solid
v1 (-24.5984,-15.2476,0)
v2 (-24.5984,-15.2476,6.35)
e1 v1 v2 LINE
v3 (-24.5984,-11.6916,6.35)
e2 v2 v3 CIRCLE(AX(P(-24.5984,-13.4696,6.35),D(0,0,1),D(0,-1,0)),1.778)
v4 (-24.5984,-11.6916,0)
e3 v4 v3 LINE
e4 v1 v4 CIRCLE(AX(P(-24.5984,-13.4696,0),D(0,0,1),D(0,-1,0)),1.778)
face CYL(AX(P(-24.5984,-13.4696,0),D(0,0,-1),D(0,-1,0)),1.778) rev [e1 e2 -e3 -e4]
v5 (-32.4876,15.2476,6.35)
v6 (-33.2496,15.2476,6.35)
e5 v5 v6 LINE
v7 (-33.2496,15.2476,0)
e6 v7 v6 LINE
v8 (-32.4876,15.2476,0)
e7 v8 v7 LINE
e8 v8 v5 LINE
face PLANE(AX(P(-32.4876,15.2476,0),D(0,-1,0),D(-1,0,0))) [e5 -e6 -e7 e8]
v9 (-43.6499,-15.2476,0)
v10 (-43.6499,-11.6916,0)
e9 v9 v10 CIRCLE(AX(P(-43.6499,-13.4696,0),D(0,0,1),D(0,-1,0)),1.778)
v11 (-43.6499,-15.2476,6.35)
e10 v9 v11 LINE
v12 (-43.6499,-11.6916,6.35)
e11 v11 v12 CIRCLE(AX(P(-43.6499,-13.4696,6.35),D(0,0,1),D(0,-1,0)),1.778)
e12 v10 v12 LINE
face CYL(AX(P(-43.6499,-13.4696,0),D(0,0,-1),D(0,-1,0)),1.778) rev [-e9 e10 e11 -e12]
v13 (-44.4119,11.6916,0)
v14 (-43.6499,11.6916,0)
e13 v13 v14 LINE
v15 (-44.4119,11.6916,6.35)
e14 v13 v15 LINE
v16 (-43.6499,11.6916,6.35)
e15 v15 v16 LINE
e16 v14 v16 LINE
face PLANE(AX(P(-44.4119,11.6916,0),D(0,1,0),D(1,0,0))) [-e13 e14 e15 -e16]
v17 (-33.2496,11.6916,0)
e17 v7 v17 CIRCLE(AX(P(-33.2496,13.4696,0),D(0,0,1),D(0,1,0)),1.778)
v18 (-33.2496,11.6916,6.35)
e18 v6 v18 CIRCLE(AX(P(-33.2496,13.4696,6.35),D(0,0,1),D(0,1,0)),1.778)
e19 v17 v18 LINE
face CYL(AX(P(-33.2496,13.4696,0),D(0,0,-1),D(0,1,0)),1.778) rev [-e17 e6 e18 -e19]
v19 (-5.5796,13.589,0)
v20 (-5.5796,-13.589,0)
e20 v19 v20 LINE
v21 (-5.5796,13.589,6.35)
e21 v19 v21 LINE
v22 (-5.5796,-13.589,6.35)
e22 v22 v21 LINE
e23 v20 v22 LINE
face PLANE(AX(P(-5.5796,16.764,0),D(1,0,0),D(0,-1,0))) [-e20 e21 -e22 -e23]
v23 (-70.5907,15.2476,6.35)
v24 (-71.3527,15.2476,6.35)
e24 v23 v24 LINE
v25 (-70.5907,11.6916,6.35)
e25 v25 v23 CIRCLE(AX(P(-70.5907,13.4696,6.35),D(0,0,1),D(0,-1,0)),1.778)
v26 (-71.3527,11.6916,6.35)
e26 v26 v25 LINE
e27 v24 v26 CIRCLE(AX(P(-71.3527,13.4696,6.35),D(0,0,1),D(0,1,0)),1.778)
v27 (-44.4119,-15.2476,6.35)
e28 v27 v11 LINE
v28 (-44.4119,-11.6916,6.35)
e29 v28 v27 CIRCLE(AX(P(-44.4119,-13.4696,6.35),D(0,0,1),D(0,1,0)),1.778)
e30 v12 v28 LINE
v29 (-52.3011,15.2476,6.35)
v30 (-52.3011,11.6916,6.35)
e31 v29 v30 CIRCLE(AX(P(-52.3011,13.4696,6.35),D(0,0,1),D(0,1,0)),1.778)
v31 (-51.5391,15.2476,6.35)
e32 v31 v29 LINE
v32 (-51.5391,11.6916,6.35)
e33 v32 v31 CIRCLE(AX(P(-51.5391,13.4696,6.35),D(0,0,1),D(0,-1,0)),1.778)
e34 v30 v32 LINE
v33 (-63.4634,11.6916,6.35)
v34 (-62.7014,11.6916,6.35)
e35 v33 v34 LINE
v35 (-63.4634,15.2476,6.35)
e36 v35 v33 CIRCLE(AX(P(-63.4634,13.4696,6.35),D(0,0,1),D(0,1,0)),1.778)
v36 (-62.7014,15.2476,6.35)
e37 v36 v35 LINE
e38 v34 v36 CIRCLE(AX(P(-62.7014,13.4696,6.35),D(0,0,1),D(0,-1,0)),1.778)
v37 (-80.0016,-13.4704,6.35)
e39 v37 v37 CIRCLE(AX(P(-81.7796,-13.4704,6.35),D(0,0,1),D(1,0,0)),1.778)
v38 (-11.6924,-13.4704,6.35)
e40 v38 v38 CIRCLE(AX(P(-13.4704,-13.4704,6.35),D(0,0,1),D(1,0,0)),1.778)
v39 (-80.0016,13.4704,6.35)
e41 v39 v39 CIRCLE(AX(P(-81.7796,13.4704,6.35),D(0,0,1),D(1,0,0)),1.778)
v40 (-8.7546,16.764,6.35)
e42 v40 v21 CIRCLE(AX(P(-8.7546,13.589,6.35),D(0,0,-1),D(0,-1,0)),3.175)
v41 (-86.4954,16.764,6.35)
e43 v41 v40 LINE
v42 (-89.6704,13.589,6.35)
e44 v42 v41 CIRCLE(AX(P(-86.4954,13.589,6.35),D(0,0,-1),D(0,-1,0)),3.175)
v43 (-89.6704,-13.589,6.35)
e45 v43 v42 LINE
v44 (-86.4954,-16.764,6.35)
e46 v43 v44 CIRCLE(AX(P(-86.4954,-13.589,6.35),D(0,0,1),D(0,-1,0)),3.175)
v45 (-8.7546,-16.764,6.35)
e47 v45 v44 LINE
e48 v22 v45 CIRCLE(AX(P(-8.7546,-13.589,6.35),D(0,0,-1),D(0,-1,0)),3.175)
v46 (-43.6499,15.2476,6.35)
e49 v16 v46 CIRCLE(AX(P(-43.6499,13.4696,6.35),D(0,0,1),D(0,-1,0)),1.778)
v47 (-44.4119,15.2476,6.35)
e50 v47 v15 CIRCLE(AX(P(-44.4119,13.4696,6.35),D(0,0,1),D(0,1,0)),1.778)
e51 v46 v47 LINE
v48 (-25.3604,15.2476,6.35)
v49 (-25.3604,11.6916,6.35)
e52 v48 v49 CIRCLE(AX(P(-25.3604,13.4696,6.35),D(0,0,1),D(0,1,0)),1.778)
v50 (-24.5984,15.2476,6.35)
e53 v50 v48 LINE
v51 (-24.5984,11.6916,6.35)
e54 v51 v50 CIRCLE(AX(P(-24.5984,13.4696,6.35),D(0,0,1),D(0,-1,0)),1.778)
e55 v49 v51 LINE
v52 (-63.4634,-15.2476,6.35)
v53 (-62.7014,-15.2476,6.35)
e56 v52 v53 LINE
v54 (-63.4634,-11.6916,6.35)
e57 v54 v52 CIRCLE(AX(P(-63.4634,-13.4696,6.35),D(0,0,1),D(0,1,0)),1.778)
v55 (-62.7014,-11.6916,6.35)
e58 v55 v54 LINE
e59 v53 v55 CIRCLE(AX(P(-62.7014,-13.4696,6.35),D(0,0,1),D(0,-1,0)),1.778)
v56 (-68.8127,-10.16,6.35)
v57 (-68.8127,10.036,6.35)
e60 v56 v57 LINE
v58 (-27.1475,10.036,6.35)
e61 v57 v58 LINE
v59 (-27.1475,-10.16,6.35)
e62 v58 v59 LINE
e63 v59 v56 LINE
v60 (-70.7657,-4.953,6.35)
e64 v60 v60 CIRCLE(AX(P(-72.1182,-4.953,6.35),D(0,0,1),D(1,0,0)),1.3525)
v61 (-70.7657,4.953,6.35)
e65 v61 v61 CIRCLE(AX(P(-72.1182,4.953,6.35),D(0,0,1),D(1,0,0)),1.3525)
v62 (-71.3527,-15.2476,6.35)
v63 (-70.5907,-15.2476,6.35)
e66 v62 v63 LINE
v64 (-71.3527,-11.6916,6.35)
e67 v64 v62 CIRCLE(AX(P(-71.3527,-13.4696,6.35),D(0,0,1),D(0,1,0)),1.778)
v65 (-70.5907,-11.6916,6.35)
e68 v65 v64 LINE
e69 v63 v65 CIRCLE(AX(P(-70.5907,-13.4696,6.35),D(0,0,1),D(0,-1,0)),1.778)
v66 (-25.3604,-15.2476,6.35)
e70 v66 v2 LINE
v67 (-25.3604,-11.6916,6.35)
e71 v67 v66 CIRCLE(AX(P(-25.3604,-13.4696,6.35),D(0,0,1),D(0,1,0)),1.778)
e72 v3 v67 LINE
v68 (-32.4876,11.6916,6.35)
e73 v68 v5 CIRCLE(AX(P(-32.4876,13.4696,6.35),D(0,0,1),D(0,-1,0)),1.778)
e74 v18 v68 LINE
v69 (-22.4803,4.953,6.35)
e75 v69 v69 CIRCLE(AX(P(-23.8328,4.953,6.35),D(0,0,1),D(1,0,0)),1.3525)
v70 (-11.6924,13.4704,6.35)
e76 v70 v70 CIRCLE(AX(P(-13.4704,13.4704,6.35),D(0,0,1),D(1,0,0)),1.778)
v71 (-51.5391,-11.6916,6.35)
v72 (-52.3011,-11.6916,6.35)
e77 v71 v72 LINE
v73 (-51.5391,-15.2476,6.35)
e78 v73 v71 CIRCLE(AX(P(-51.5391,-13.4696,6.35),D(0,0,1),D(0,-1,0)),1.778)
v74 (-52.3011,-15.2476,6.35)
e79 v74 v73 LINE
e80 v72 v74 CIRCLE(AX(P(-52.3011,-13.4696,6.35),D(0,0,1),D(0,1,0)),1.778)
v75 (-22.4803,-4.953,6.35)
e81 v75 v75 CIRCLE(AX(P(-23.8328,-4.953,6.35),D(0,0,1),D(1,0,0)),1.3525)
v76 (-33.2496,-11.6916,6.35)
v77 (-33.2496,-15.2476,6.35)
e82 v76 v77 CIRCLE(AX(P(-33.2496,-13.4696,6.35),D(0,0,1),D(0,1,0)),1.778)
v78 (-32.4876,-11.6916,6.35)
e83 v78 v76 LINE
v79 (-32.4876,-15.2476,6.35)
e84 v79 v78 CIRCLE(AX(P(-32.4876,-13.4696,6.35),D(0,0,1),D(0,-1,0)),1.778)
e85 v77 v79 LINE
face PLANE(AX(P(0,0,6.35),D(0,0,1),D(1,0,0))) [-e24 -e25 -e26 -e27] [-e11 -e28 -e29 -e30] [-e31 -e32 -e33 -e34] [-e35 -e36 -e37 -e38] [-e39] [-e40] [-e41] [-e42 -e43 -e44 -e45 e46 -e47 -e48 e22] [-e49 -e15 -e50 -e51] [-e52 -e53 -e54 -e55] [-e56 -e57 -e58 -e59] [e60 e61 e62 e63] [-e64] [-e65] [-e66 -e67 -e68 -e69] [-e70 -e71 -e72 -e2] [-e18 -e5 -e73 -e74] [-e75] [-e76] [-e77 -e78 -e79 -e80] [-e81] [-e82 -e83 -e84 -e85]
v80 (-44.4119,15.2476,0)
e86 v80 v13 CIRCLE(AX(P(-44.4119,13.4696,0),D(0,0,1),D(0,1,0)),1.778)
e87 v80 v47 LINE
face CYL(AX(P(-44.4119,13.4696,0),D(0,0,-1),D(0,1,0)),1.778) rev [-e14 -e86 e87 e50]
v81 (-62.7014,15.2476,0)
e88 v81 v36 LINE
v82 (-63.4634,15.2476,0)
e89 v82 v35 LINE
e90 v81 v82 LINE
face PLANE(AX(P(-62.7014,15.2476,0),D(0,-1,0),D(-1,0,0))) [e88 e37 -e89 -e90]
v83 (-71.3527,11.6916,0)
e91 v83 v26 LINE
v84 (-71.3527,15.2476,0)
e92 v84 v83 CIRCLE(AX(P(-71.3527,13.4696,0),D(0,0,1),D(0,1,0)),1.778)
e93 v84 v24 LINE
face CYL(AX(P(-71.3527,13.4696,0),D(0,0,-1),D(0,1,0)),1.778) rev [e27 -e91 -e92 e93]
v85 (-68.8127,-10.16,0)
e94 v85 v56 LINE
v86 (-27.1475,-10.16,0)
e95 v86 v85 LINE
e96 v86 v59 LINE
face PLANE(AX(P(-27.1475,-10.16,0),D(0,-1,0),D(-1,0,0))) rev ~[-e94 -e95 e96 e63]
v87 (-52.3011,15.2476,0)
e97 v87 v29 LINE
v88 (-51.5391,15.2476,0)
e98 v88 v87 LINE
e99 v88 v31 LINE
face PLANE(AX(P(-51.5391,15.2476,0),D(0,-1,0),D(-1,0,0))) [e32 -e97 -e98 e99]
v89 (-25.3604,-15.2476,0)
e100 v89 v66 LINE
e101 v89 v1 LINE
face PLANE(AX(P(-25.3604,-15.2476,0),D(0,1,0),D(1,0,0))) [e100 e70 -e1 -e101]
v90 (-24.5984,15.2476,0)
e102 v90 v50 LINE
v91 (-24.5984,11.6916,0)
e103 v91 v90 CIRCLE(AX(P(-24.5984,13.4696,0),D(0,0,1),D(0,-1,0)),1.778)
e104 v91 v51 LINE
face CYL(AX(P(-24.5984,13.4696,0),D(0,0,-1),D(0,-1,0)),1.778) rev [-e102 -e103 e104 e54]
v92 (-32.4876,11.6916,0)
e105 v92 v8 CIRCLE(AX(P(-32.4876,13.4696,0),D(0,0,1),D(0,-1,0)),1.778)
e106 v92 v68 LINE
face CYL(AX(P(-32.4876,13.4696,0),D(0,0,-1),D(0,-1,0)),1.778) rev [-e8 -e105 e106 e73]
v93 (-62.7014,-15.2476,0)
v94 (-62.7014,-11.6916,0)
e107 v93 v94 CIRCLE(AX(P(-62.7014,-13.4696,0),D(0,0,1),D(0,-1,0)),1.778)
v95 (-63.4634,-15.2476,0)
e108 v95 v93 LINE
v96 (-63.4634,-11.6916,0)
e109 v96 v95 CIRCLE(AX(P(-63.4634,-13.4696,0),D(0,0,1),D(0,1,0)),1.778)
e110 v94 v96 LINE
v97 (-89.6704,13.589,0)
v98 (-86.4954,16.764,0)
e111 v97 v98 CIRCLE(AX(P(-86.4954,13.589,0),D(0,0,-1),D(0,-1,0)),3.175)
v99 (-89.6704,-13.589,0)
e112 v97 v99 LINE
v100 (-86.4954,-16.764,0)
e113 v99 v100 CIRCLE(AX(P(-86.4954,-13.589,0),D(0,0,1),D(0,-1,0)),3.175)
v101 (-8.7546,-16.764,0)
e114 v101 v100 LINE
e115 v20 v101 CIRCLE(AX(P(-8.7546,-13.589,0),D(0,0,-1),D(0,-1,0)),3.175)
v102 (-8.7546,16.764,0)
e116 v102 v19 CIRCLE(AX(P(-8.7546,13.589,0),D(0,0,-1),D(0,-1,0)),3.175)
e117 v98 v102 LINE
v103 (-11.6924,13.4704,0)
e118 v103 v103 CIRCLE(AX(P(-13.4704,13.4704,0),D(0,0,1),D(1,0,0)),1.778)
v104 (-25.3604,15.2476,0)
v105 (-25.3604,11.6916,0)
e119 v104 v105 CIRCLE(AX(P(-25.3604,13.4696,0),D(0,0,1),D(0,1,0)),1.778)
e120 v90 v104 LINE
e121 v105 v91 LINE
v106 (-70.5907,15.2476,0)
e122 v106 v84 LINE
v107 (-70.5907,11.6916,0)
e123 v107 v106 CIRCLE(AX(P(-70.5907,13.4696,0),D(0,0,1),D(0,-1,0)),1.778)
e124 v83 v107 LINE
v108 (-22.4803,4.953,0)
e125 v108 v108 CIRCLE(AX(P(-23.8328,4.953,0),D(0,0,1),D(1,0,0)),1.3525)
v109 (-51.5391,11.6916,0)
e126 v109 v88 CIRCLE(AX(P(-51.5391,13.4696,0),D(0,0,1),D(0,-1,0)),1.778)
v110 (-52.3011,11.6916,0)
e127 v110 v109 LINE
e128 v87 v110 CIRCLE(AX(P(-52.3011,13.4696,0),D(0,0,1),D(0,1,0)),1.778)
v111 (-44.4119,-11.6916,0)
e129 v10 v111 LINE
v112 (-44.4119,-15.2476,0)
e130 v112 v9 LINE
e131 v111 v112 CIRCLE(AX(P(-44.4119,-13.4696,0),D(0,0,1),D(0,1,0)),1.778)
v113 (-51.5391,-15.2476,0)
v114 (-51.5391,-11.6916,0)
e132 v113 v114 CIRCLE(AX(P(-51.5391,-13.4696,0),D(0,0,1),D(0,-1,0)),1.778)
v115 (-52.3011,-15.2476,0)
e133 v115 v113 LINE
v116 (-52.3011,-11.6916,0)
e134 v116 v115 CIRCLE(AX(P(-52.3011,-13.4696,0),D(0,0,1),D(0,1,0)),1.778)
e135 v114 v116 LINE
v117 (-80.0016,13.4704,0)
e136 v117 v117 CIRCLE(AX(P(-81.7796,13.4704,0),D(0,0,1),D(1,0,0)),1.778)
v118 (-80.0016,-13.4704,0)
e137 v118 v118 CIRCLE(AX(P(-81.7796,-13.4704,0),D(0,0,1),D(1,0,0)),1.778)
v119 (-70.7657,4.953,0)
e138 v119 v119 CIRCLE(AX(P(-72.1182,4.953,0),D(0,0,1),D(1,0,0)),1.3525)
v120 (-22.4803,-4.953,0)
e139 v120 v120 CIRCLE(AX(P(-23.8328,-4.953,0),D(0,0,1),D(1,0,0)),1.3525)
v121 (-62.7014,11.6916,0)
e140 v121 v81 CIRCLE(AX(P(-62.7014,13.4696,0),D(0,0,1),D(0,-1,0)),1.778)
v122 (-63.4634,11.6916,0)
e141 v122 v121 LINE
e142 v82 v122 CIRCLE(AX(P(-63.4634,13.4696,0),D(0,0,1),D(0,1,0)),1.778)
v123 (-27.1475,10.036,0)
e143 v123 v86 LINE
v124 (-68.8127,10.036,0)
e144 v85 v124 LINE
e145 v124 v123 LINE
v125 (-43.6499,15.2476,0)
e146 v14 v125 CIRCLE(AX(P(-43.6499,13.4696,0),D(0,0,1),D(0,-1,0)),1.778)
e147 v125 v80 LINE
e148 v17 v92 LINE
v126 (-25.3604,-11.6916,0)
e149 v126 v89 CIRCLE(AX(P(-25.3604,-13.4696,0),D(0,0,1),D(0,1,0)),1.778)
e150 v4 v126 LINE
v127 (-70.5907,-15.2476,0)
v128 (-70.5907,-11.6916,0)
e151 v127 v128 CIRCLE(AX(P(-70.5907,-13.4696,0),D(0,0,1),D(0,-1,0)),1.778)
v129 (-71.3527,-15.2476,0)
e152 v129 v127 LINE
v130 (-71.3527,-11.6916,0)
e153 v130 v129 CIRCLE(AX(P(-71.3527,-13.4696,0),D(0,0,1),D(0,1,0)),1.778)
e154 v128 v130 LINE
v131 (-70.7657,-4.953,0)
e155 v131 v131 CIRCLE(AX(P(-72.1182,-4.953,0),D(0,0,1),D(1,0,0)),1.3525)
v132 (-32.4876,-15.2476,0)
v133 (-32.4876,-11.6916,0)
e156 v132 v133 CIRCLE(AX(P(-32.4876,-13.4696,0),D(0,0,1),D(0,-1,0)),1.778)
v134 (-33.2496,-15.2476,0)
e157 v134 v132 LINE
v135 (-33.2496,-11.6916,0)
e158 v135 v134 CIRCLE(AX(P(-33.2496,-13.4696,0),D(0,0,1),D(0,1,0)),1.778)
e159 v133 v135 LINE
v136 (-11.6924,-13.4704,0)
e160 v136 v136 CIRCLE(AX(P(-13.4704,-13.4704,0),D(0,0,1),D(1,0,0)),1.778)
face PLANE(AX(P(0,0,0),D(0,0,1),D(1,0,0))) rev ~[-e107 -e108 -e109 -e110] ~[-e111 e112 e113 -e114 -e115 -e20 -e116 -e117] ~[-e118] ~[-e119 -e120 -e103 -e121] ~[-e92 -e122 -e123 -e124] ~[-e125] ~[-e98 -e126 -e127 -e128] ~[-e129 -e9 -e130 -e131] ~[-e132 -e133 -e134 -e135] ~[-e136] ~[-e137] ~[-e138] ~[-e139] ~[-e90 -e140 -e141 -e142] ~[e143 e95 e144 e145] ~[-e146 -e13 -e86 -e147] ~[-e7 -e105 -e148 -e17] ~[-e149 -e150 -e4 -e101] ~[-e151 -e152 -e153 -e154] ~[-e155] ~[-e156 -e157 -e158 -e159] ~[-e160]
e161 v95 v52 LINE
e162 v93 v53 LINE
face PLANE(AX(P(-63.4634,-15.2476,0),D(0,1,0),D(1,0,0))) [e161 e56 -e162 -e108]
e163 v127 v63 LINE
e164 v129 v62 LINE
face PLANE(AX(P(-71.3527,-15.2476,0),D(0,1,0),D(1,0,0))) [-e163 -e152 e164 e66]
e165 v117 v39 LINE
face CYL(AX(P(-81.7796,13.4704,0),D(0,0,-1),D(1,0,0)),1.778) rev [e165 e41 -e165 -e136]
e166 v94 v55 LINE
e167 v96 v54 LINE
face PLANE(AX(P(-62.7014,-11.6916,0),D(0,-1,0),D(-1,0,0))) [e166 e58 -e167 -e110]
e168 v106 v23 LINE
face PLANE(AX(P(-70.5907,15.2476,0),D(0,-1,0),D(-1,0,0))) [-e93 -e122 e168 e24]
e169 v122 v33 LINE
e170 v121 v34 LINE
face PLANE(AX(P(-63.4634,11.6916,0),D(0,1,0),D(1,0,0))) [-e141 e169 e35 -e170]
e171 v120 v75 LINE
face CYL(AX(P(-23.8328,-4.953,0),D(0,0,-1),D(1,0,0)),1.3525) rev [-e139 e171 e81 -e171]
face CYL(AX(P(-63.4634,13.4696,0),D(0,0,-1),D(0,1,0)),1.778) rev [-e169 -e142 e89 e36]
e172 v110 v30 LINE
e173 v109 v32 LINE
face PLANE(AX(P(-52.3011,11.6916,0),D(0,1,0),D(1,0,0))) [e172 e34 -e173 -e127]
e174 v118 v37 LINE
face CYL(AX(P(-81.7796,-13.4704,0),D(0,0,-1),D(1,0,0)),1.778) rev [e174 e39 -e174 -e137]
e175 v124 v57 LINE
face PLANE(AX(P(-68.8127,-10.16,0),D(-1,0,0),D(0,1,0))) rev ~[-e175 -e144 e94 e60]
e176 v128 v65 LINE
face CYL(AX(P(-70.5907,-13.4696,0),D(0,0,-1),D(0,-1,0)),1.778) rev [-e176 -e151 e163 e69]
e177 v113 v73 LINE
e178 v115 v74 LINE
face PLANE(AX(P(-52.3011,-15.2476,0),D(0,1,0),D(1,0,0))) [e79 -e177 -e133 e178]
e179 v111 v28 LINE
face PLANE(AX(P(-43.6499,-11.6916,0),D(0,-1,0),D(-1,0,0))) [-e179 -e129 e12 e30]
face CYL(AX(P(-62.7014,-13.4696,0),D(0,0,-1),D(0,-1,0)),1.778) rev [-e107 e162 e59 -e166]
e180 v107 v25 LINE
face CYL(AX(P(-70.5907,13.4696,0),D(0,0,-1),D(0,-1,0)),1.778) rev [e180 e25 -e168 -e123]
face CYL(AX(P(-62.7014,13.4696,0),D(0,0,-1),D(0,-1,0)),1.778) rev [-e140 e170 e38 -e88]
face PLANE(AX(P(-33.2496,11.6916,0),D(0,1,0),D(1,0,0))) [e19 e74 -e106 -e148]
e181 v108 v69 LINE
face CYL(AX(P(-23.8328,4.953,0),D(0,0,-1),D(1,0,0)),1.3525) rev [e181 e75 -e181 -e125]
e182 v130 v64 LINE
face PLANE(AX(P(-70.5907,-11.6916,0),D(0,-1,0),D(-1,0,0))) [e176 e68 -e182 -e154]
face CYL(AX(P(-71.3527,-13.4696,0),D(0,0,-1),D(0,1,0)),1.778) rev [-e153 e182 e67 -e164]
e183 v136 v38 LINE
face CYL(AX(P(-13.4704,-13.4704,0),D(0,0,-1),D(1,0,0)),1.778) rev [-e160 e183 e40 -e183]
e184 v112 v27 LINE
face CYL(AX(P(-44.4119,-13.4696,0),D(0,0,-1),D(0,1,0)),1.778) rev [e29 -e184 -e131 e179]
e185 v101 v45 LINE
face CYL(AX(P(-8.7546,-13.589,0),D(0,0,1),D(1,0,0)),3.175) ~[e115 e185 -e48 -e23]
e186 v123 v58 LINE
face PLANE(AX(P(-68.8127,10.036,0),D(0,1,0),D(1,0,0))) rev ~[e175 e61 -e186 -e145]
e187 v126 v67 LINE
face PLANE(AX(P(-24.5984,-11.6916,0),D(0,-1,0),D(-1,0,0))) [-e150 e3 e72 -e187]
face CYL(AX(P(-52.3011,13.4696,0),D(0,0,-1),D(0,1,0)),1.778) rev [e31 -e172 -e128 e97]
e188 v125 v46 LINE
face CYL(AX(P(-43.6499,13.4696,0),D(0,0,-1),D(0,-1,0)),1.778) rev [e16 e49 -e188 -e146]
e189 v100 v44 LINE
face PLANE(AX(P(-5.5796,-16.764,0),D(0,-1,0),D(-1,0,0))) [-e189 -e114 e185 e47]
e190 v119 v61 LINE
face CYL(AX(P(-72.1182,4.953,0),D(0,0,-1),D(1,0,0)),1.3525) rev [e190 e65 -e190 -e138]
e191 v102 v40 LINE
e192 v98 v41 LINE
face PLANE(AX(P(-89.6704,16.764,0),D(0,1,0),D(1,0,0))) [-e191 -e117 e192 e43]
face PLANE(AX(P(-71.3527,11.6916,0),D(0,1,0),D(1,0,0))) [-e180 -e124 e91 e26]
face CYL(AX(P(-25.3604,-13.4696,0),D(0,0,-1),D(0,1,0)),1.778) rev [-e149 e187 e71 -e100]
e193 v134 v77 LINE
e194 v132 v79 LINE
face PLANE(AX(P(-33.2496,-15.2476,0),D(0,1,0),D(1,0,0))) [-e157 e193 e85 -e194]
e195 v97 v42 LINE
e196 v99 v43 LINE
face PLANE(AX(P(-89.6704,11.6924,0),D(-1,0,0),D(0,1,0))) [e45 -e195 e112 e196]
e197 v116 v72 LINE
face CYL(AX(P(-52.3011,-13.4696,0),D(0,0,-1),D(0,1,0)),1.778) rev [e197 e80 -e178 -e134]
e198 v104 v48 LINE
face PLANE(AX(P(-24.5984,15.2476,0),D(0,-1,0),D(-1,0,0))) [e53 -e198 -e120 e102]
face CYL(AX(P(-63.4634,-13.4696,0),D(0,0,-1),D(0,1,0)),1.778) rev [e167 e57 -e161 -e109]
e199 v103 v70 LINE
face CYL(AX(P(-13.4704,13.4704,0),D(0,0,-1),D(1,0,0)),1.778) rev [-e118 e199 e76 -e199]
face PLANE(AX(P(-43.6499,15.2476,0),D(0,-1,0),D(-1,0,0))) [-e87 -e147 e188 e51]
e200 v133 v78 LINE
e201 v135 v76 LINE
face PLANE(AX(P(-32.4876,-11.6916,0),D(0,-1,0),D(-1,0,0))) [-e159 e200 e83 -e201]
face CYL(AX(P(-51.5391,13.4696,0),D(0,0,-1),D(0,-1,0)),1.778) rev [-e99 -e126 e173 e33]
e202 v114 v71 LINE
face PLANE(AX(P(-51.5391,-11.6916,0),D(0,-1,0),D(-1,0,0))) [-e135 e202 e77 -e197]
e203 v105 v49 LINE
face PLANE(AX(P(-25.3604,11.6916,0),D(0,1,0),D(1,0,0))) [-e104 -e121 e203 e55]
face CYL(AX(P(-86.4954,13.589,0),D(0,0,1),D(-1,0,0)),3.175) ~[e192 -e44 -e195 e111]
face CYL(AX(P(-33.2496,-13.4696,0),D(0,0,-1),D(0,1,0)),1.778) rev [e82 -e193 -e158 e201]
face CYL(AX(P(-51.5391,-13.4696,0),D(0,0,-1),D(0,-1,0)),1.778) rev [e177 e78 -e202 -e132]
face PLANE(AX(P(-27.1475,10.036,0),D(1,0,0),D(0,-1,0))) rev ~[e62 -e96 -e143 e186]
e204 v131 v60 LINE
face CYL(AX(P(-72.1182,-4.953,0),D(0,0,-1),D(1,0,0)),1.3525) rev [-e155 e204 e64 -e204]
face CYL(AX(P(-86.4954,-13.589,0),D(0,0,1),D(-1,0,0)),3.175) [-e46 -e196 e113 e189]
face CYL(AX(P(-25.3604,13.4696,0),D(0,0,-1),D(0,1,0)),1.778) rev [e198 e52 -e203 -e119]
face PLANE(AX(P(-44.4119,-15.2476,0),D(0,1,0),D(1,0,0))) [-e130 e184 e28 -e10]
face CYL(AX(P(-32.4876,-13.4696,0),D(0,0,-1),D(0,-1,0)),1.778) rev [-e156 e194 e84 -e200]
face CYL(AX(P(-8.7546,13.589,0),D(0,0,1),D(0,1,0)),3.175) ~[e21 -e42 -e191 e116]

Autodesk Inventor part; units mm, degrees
ref_plane "YZ Plane" through (0, 0, 0) normal (1, 0, 0) x (0, 1, 0)
ref_plane "XZ Plane" through (0, 0, 0) normal (0, 1, 0) x (-1, 0, 0)
ref_plane "XY Plane" through (0, 0, 0) normal (0, 0, 1) x (1, 0, 0)
ref_plane "Work Plane1" through (0, 0, 0) normal (0, 0, 1) x (1, 0, 0)
sketch "Sketch2" plane through (0, 0, 0) normal (0, 0, 1) x (1, 0, 0)
  arc A0 (-24.5984, 11.6916) -> (-24.5984, 15.2476) centre (-24.5984, 13.4696) ccw projected
  line L0 (-24.5984, 15.2476) -> (-25.3604, 15.2476) projected
  line L1 (-25.3604, 11.6916) -> (-24.5984, 11.6916) projected
  arc A1 (-25.3604, 15.2476) -> (-25.3604, 11.6916) centre (-25.3604, 13.4696) ccw projected
  arc A2 (-25.3604, 15.2476) -> (-25.3604, 11.6916) centre (-25.3604, 13.4696) ccw
  arc A3 (-24.5984, 11.6916) -> (-24.5984, 15.2476) centre (-24.5984, 13.4696) ccw
  line L2 (-27.1384, 13.4696) -> (-22.8204, 13.4696) construction
  line L3 (-25.3604, 11.6916) -> (-24.5984, 11.6916)
  line L4 (-24.5984, 15.2476) -> (-25.3604, 15.2476)
  arc A4 (-25.3604, 15.2476) -> (-25.3604, 11.6916) centre (-25.3604, 13.4696) ccw
  arc A5 (-24.5984, 11.6916) -> (-24.5984, 15.2476) centre (-24.5984, 13.4696) ccw
  arc A6 (-33.2496, 15.2476) -> (-33.2496, 11.6916) centre (-33.2496, 13.4696) ccw
  arc A7 (-32.4876, 11.6916) -> (-32.4876, 15.2476) centre (-32.4876, 13.4696) ccw
  arc A8 (-43.6499, 11.6916) -> (-43.6499, 15.2476) centre (-43.6499, 13.4696) ccw
  arc A9 (-44.4119, 15.2476) -> (-44.4119, 11.6916) centre (-44.4119, 13.4696) ccw projected
  arc A10 (-51.5391, 11.6916) -> (-51.5391, 15.2476) centre (-51.5391, 13.4696) ccw
  arc A11 (-52.3011, 15.2476) -> (-52.3011, 11.6916) centre (-52.3011, 13.4696) ccw projected
  line L5 (-46.1899, 13.4696) -> (-41.8719, 13.4696) construction
  line L6 (-44.4119, 11.6916) -> (-43.6499, 11.6916)
  line L7 (-43.6499, 15.2476) -> (-44.4119, 15.2476)
  arc A12 (-44.4119, 15.2476) -> (-44.4119, 11.6916) centre (-44.4119, 13.4696) ccw
  arc A13 (-43.6499, 11.6916) -> (-43.6499, 15.2476) centre (-43.6499, 13.4696) ccw
  line L8 (-54.0791, 13.4696) -> (-49.7611, 13.4696) construction
  line L9 (-52.3011, 11.6916) -> (-51.5391, 11.6916)
  line L10 (-51.5391, 15.2476) -> (-52.3011, 15.2476)
  arc A14 (-52.3011, 15.2476) -> (-52.3011, 11.6916) centre (-52.3011, 13.4696) ccw
  arc A15 (-51.5391, 11.6916) -> (-51.5391, 15.2476) centre (-51.5391, 13.4696) ccw
  line L11 (-35.0276, 13.4696) -> (-30.7096, 13.4696) construction
  line L12 (-33.2496, 11.6916) -> (-32.4876, 11.6916)
  line L13 (-32.4876, 15.2476) -> (-33.2496, 15.2476)
  arc A16 (-33.2496, 15.2476) -> (-33.2496, 11.6916) centre (-33.2496, 13.4696) ccw
  arc A17 (-32.4876, 11.6916) -> (-32.4876, 15.2476) centre (-32.4876, 13.4696) ccw
  line L14 (-65.2414, 13.4696) -> (-60.9234, 13.4696) construction
  line L15 (-63.4634, 11.6916) -> (-62.7014, 11.6916)
  line L16 (-62.7014, 15.2476) -> (-63.4634, 15.2476)
  arc A18 (-63.4634, 15.2476) -> (-63.4634, 11.6916) centre (-63.4634, 13.4696) ccw
  arc A19 (-62.7014, 11.6916) -> (-62.7014, 15.2476) centre (-62.7014, 13.4696) ccw
  line L17 (-73.1307, 13.4696) -> (-68.8127, 13.4696) construction
  line L18 (-71.3527, 11.6916) -> (-70.5907, 11.6916)
  line L19 (-70.5907, 15.2476) -> (-71.3527, 15.2476)
  arc A20 (-71.3527, 15.2476) -> (-71.3527, 11.6916) centre (-71.3527, 13.4696) ccw
  arc A21 (-70.5907, 11.6916) -> (-70.5907, 15.2476) centre (-70.5907, 13.4696) ccw
  line L20 (-73.1307, -13.4696) -> (-68.8127, -13.4696) construction
  line L21 (-71.3527, -15.2476) -> (-70.5907, -15.2476)
  line L22 (-70.5907, -11.6916) -> (-71.3527, -11.6916)
  arc A22 (-71.3527, -11.6916) -> (-71.3527, -15.2476) centre (-71.3527, -13.4696) ccw
  arc A23 (-70.5907, -15.2476) -> (-70.5907, -11.6916) centre (-70.5907, -13.4696) ccw
  line L23 (-65.2414, -13.4696) -> (-60.9234, -13.4696) construction
  line L24 (-63.4634, -15.2476) -> (-62.7014, -15.2476)
  line L25 (-62.7014, -11.6916) -> (-63.4634, -11.6916)
  arc A24 (-63.4634, -11.6916) -> (-63.4634, -15.2476) centre (-63.4634, -13.4696) ccw
  arc A25 (-62.7014, -15.2476) -> (-62.7014, -11.6916) centre (-62.7014, -13.4696) ccw
  line L26 (-54.0791, -13.4696) -> (-49.7611, -13.4696) construction
  line L27 (-52.3011, -15.2476) -> (-51.5391, -15.2476)
  line L28 (-51.5391, -11.6916) -> (-52.3011, -11.6916)
  arc A26 (-52.3011, -11.6916) -> (-52.3011, -15.2476) centre (-52.3011, -13.4696) ccw
  arc A27 (-51.5391, -15.2476) -> (-51.5391, -11.6916) centre (-51.5391, -13.4696) ccw
  line L29 (-46.1899, -13.4696) -> (-41.8719, -13.4696) construction
  line L30 (-44.4119, -15.2476) -> (-43.6499, -15.2476)
  line L31 (-43.6499, -11.6916) -> (-44.4119, -11.6916)
  arc A28 (-44.4119, -11.6916) -> (-44.4119, -15.2476) centre (-44.4119, -13.4696) ccw
  arc A29 (-43.6499, -15.2476) -> (-43.6499, -11.6916) centre (-43.6499, -13.4696) ccw
  line L32 (-35.0276, -13.4696) -> (-30.7096, -13.4696) construction
  line L33 (-33.2496, -15.2476) -> (-32.4876, -15.2476)
  line L34 (-32.4876, -11.6916) -> (-33.2496, -11.6916)
  arc A30 (-33.2496, -11.6916) -> (-33.2496, -15.2476) centre (-33.2496, -13.4696) ccw
  arc A31 (-32.4876, -15.2476) -> (-32.4876, -11.6916) centre (-32.4876, -13.4696) ccw
  line L35 (-27.1384, -13.4696) -> (-22.8204, -13.4696) construction
  line L36 (-25.3604, -15.2476) -> (-24.5984, -15.2476)
  line L37 (-24.5984, -11.6916) -> (-25.3604, -11.6916)
  arc A32 (-25.3604, -11.6916) -> (-25.3604, -15.2476) centre (-25.3604, -13.4696) ccw
  arc A33 (-24.5984, -15.2476) -> (-24.5984, -11.6916) centre (-24.5984, -13.4696) ccw
  circle A34 centre (-72.1182, 4.953) radius 1.3525
  circle A35 centre (-72.1182, -4.953) radius 1.3525
  circle A36 centre (-23.8328, -4.953) radius 1.3525
  circle A37 centre (-23.8328, 4.953) radius 1.3525
  line L38 (-68.8127, 10.036) -> (-27.1475, 10.036)
  line L39 (-27.1475, 10.036) -> (-27.1475, -10.16)
  line L40 (-27.1475, -10.16) -> (-68.8127, -10.16)
  line L41 (-68.8127, -10.16) -> (-68.8127, 10.036)
  circle A38 centre (-81.7796, 13.4704) radius 1.778
  circle A39 centre (-81.7796, -13.4704) radius 1.778
  circle A40 centre (-81.7796, 13.4704) radius 1.778
  circle A41 centre (-81.7796, -13.4704) radius 1.778
  circle A42 centre (-13.4704, 13.4704) radius 1.778
  circle A43 centre (-13.4704, -13.4704) radius 1.778
  circle A44 centre (-13.4704, -13.4704) radius 1.778
  circle A45 centre (-13.4704, 13.4704) radius 1.778
  circle A46 centre (-89.6704, 13.4704) radius 1.778
  circle A47 centre (-89.6704, -13.4704) radius 1.778
  circle A48 centre (-5.5796, -13.4704) radius 1.778
  circle A49 centre (-5.5796, 13.4704) radius 1.778
  line L42 (-89.6704, 16.764) -> (-5.5796, 16.764)
  line L43 (-5.5796, 16.764) -> (-5.5796, -16.764)
  line L44 (-5.5796, -16.764) -> (-89.6704, -16.764)
  line L45 (-89.6704, -16.764) -> (-89.6704, 16.764)
  point P0 (0, 0)
  point P1 (-24.9794, 13.4696)
  point P2 (-44.0309, 13.4696)
  point P3 (-51.9201, 13.4696)
  point P4 (-32.8686, 13.4696)
  point P5 (-63.0824, 13.4696)
  point P6 (-70.9717, 13.4696)
  point P7 (-70.9717, -13.4696)
  point P8 (-63.0824, -13.4696)
  point P9 (-51.9201, -13.4696)
  point P10 (-44.0309, -13.4696)
  point P11 (-32.8686, -13.4696)
  point P12 (-24.9794, -13.4696)
extrude "Extrusion1" add sketch "Sketch2" along normal blind 6.35 contours A46 L45 | A46 L45 L42 L43 A49 A48 L44 A47 | A47 L45 | L43 A49 | L43 A48 picked at (-89.0777, 13.4704) picked at (-89.0777, -13.4704) picked at (-6.7028, 13.6737) picked at (-6.7028, -13.2671)
fillet "Fillet1" radius 3.175 4 edges at (-5.5796, 16.764, 3.175) (-89.6704, 16.764, 3.175) (-89.6704, -16.764, 3.175) (-5.5796, -16.764, 3.175)
properties part number "ExtendedServoMount"
